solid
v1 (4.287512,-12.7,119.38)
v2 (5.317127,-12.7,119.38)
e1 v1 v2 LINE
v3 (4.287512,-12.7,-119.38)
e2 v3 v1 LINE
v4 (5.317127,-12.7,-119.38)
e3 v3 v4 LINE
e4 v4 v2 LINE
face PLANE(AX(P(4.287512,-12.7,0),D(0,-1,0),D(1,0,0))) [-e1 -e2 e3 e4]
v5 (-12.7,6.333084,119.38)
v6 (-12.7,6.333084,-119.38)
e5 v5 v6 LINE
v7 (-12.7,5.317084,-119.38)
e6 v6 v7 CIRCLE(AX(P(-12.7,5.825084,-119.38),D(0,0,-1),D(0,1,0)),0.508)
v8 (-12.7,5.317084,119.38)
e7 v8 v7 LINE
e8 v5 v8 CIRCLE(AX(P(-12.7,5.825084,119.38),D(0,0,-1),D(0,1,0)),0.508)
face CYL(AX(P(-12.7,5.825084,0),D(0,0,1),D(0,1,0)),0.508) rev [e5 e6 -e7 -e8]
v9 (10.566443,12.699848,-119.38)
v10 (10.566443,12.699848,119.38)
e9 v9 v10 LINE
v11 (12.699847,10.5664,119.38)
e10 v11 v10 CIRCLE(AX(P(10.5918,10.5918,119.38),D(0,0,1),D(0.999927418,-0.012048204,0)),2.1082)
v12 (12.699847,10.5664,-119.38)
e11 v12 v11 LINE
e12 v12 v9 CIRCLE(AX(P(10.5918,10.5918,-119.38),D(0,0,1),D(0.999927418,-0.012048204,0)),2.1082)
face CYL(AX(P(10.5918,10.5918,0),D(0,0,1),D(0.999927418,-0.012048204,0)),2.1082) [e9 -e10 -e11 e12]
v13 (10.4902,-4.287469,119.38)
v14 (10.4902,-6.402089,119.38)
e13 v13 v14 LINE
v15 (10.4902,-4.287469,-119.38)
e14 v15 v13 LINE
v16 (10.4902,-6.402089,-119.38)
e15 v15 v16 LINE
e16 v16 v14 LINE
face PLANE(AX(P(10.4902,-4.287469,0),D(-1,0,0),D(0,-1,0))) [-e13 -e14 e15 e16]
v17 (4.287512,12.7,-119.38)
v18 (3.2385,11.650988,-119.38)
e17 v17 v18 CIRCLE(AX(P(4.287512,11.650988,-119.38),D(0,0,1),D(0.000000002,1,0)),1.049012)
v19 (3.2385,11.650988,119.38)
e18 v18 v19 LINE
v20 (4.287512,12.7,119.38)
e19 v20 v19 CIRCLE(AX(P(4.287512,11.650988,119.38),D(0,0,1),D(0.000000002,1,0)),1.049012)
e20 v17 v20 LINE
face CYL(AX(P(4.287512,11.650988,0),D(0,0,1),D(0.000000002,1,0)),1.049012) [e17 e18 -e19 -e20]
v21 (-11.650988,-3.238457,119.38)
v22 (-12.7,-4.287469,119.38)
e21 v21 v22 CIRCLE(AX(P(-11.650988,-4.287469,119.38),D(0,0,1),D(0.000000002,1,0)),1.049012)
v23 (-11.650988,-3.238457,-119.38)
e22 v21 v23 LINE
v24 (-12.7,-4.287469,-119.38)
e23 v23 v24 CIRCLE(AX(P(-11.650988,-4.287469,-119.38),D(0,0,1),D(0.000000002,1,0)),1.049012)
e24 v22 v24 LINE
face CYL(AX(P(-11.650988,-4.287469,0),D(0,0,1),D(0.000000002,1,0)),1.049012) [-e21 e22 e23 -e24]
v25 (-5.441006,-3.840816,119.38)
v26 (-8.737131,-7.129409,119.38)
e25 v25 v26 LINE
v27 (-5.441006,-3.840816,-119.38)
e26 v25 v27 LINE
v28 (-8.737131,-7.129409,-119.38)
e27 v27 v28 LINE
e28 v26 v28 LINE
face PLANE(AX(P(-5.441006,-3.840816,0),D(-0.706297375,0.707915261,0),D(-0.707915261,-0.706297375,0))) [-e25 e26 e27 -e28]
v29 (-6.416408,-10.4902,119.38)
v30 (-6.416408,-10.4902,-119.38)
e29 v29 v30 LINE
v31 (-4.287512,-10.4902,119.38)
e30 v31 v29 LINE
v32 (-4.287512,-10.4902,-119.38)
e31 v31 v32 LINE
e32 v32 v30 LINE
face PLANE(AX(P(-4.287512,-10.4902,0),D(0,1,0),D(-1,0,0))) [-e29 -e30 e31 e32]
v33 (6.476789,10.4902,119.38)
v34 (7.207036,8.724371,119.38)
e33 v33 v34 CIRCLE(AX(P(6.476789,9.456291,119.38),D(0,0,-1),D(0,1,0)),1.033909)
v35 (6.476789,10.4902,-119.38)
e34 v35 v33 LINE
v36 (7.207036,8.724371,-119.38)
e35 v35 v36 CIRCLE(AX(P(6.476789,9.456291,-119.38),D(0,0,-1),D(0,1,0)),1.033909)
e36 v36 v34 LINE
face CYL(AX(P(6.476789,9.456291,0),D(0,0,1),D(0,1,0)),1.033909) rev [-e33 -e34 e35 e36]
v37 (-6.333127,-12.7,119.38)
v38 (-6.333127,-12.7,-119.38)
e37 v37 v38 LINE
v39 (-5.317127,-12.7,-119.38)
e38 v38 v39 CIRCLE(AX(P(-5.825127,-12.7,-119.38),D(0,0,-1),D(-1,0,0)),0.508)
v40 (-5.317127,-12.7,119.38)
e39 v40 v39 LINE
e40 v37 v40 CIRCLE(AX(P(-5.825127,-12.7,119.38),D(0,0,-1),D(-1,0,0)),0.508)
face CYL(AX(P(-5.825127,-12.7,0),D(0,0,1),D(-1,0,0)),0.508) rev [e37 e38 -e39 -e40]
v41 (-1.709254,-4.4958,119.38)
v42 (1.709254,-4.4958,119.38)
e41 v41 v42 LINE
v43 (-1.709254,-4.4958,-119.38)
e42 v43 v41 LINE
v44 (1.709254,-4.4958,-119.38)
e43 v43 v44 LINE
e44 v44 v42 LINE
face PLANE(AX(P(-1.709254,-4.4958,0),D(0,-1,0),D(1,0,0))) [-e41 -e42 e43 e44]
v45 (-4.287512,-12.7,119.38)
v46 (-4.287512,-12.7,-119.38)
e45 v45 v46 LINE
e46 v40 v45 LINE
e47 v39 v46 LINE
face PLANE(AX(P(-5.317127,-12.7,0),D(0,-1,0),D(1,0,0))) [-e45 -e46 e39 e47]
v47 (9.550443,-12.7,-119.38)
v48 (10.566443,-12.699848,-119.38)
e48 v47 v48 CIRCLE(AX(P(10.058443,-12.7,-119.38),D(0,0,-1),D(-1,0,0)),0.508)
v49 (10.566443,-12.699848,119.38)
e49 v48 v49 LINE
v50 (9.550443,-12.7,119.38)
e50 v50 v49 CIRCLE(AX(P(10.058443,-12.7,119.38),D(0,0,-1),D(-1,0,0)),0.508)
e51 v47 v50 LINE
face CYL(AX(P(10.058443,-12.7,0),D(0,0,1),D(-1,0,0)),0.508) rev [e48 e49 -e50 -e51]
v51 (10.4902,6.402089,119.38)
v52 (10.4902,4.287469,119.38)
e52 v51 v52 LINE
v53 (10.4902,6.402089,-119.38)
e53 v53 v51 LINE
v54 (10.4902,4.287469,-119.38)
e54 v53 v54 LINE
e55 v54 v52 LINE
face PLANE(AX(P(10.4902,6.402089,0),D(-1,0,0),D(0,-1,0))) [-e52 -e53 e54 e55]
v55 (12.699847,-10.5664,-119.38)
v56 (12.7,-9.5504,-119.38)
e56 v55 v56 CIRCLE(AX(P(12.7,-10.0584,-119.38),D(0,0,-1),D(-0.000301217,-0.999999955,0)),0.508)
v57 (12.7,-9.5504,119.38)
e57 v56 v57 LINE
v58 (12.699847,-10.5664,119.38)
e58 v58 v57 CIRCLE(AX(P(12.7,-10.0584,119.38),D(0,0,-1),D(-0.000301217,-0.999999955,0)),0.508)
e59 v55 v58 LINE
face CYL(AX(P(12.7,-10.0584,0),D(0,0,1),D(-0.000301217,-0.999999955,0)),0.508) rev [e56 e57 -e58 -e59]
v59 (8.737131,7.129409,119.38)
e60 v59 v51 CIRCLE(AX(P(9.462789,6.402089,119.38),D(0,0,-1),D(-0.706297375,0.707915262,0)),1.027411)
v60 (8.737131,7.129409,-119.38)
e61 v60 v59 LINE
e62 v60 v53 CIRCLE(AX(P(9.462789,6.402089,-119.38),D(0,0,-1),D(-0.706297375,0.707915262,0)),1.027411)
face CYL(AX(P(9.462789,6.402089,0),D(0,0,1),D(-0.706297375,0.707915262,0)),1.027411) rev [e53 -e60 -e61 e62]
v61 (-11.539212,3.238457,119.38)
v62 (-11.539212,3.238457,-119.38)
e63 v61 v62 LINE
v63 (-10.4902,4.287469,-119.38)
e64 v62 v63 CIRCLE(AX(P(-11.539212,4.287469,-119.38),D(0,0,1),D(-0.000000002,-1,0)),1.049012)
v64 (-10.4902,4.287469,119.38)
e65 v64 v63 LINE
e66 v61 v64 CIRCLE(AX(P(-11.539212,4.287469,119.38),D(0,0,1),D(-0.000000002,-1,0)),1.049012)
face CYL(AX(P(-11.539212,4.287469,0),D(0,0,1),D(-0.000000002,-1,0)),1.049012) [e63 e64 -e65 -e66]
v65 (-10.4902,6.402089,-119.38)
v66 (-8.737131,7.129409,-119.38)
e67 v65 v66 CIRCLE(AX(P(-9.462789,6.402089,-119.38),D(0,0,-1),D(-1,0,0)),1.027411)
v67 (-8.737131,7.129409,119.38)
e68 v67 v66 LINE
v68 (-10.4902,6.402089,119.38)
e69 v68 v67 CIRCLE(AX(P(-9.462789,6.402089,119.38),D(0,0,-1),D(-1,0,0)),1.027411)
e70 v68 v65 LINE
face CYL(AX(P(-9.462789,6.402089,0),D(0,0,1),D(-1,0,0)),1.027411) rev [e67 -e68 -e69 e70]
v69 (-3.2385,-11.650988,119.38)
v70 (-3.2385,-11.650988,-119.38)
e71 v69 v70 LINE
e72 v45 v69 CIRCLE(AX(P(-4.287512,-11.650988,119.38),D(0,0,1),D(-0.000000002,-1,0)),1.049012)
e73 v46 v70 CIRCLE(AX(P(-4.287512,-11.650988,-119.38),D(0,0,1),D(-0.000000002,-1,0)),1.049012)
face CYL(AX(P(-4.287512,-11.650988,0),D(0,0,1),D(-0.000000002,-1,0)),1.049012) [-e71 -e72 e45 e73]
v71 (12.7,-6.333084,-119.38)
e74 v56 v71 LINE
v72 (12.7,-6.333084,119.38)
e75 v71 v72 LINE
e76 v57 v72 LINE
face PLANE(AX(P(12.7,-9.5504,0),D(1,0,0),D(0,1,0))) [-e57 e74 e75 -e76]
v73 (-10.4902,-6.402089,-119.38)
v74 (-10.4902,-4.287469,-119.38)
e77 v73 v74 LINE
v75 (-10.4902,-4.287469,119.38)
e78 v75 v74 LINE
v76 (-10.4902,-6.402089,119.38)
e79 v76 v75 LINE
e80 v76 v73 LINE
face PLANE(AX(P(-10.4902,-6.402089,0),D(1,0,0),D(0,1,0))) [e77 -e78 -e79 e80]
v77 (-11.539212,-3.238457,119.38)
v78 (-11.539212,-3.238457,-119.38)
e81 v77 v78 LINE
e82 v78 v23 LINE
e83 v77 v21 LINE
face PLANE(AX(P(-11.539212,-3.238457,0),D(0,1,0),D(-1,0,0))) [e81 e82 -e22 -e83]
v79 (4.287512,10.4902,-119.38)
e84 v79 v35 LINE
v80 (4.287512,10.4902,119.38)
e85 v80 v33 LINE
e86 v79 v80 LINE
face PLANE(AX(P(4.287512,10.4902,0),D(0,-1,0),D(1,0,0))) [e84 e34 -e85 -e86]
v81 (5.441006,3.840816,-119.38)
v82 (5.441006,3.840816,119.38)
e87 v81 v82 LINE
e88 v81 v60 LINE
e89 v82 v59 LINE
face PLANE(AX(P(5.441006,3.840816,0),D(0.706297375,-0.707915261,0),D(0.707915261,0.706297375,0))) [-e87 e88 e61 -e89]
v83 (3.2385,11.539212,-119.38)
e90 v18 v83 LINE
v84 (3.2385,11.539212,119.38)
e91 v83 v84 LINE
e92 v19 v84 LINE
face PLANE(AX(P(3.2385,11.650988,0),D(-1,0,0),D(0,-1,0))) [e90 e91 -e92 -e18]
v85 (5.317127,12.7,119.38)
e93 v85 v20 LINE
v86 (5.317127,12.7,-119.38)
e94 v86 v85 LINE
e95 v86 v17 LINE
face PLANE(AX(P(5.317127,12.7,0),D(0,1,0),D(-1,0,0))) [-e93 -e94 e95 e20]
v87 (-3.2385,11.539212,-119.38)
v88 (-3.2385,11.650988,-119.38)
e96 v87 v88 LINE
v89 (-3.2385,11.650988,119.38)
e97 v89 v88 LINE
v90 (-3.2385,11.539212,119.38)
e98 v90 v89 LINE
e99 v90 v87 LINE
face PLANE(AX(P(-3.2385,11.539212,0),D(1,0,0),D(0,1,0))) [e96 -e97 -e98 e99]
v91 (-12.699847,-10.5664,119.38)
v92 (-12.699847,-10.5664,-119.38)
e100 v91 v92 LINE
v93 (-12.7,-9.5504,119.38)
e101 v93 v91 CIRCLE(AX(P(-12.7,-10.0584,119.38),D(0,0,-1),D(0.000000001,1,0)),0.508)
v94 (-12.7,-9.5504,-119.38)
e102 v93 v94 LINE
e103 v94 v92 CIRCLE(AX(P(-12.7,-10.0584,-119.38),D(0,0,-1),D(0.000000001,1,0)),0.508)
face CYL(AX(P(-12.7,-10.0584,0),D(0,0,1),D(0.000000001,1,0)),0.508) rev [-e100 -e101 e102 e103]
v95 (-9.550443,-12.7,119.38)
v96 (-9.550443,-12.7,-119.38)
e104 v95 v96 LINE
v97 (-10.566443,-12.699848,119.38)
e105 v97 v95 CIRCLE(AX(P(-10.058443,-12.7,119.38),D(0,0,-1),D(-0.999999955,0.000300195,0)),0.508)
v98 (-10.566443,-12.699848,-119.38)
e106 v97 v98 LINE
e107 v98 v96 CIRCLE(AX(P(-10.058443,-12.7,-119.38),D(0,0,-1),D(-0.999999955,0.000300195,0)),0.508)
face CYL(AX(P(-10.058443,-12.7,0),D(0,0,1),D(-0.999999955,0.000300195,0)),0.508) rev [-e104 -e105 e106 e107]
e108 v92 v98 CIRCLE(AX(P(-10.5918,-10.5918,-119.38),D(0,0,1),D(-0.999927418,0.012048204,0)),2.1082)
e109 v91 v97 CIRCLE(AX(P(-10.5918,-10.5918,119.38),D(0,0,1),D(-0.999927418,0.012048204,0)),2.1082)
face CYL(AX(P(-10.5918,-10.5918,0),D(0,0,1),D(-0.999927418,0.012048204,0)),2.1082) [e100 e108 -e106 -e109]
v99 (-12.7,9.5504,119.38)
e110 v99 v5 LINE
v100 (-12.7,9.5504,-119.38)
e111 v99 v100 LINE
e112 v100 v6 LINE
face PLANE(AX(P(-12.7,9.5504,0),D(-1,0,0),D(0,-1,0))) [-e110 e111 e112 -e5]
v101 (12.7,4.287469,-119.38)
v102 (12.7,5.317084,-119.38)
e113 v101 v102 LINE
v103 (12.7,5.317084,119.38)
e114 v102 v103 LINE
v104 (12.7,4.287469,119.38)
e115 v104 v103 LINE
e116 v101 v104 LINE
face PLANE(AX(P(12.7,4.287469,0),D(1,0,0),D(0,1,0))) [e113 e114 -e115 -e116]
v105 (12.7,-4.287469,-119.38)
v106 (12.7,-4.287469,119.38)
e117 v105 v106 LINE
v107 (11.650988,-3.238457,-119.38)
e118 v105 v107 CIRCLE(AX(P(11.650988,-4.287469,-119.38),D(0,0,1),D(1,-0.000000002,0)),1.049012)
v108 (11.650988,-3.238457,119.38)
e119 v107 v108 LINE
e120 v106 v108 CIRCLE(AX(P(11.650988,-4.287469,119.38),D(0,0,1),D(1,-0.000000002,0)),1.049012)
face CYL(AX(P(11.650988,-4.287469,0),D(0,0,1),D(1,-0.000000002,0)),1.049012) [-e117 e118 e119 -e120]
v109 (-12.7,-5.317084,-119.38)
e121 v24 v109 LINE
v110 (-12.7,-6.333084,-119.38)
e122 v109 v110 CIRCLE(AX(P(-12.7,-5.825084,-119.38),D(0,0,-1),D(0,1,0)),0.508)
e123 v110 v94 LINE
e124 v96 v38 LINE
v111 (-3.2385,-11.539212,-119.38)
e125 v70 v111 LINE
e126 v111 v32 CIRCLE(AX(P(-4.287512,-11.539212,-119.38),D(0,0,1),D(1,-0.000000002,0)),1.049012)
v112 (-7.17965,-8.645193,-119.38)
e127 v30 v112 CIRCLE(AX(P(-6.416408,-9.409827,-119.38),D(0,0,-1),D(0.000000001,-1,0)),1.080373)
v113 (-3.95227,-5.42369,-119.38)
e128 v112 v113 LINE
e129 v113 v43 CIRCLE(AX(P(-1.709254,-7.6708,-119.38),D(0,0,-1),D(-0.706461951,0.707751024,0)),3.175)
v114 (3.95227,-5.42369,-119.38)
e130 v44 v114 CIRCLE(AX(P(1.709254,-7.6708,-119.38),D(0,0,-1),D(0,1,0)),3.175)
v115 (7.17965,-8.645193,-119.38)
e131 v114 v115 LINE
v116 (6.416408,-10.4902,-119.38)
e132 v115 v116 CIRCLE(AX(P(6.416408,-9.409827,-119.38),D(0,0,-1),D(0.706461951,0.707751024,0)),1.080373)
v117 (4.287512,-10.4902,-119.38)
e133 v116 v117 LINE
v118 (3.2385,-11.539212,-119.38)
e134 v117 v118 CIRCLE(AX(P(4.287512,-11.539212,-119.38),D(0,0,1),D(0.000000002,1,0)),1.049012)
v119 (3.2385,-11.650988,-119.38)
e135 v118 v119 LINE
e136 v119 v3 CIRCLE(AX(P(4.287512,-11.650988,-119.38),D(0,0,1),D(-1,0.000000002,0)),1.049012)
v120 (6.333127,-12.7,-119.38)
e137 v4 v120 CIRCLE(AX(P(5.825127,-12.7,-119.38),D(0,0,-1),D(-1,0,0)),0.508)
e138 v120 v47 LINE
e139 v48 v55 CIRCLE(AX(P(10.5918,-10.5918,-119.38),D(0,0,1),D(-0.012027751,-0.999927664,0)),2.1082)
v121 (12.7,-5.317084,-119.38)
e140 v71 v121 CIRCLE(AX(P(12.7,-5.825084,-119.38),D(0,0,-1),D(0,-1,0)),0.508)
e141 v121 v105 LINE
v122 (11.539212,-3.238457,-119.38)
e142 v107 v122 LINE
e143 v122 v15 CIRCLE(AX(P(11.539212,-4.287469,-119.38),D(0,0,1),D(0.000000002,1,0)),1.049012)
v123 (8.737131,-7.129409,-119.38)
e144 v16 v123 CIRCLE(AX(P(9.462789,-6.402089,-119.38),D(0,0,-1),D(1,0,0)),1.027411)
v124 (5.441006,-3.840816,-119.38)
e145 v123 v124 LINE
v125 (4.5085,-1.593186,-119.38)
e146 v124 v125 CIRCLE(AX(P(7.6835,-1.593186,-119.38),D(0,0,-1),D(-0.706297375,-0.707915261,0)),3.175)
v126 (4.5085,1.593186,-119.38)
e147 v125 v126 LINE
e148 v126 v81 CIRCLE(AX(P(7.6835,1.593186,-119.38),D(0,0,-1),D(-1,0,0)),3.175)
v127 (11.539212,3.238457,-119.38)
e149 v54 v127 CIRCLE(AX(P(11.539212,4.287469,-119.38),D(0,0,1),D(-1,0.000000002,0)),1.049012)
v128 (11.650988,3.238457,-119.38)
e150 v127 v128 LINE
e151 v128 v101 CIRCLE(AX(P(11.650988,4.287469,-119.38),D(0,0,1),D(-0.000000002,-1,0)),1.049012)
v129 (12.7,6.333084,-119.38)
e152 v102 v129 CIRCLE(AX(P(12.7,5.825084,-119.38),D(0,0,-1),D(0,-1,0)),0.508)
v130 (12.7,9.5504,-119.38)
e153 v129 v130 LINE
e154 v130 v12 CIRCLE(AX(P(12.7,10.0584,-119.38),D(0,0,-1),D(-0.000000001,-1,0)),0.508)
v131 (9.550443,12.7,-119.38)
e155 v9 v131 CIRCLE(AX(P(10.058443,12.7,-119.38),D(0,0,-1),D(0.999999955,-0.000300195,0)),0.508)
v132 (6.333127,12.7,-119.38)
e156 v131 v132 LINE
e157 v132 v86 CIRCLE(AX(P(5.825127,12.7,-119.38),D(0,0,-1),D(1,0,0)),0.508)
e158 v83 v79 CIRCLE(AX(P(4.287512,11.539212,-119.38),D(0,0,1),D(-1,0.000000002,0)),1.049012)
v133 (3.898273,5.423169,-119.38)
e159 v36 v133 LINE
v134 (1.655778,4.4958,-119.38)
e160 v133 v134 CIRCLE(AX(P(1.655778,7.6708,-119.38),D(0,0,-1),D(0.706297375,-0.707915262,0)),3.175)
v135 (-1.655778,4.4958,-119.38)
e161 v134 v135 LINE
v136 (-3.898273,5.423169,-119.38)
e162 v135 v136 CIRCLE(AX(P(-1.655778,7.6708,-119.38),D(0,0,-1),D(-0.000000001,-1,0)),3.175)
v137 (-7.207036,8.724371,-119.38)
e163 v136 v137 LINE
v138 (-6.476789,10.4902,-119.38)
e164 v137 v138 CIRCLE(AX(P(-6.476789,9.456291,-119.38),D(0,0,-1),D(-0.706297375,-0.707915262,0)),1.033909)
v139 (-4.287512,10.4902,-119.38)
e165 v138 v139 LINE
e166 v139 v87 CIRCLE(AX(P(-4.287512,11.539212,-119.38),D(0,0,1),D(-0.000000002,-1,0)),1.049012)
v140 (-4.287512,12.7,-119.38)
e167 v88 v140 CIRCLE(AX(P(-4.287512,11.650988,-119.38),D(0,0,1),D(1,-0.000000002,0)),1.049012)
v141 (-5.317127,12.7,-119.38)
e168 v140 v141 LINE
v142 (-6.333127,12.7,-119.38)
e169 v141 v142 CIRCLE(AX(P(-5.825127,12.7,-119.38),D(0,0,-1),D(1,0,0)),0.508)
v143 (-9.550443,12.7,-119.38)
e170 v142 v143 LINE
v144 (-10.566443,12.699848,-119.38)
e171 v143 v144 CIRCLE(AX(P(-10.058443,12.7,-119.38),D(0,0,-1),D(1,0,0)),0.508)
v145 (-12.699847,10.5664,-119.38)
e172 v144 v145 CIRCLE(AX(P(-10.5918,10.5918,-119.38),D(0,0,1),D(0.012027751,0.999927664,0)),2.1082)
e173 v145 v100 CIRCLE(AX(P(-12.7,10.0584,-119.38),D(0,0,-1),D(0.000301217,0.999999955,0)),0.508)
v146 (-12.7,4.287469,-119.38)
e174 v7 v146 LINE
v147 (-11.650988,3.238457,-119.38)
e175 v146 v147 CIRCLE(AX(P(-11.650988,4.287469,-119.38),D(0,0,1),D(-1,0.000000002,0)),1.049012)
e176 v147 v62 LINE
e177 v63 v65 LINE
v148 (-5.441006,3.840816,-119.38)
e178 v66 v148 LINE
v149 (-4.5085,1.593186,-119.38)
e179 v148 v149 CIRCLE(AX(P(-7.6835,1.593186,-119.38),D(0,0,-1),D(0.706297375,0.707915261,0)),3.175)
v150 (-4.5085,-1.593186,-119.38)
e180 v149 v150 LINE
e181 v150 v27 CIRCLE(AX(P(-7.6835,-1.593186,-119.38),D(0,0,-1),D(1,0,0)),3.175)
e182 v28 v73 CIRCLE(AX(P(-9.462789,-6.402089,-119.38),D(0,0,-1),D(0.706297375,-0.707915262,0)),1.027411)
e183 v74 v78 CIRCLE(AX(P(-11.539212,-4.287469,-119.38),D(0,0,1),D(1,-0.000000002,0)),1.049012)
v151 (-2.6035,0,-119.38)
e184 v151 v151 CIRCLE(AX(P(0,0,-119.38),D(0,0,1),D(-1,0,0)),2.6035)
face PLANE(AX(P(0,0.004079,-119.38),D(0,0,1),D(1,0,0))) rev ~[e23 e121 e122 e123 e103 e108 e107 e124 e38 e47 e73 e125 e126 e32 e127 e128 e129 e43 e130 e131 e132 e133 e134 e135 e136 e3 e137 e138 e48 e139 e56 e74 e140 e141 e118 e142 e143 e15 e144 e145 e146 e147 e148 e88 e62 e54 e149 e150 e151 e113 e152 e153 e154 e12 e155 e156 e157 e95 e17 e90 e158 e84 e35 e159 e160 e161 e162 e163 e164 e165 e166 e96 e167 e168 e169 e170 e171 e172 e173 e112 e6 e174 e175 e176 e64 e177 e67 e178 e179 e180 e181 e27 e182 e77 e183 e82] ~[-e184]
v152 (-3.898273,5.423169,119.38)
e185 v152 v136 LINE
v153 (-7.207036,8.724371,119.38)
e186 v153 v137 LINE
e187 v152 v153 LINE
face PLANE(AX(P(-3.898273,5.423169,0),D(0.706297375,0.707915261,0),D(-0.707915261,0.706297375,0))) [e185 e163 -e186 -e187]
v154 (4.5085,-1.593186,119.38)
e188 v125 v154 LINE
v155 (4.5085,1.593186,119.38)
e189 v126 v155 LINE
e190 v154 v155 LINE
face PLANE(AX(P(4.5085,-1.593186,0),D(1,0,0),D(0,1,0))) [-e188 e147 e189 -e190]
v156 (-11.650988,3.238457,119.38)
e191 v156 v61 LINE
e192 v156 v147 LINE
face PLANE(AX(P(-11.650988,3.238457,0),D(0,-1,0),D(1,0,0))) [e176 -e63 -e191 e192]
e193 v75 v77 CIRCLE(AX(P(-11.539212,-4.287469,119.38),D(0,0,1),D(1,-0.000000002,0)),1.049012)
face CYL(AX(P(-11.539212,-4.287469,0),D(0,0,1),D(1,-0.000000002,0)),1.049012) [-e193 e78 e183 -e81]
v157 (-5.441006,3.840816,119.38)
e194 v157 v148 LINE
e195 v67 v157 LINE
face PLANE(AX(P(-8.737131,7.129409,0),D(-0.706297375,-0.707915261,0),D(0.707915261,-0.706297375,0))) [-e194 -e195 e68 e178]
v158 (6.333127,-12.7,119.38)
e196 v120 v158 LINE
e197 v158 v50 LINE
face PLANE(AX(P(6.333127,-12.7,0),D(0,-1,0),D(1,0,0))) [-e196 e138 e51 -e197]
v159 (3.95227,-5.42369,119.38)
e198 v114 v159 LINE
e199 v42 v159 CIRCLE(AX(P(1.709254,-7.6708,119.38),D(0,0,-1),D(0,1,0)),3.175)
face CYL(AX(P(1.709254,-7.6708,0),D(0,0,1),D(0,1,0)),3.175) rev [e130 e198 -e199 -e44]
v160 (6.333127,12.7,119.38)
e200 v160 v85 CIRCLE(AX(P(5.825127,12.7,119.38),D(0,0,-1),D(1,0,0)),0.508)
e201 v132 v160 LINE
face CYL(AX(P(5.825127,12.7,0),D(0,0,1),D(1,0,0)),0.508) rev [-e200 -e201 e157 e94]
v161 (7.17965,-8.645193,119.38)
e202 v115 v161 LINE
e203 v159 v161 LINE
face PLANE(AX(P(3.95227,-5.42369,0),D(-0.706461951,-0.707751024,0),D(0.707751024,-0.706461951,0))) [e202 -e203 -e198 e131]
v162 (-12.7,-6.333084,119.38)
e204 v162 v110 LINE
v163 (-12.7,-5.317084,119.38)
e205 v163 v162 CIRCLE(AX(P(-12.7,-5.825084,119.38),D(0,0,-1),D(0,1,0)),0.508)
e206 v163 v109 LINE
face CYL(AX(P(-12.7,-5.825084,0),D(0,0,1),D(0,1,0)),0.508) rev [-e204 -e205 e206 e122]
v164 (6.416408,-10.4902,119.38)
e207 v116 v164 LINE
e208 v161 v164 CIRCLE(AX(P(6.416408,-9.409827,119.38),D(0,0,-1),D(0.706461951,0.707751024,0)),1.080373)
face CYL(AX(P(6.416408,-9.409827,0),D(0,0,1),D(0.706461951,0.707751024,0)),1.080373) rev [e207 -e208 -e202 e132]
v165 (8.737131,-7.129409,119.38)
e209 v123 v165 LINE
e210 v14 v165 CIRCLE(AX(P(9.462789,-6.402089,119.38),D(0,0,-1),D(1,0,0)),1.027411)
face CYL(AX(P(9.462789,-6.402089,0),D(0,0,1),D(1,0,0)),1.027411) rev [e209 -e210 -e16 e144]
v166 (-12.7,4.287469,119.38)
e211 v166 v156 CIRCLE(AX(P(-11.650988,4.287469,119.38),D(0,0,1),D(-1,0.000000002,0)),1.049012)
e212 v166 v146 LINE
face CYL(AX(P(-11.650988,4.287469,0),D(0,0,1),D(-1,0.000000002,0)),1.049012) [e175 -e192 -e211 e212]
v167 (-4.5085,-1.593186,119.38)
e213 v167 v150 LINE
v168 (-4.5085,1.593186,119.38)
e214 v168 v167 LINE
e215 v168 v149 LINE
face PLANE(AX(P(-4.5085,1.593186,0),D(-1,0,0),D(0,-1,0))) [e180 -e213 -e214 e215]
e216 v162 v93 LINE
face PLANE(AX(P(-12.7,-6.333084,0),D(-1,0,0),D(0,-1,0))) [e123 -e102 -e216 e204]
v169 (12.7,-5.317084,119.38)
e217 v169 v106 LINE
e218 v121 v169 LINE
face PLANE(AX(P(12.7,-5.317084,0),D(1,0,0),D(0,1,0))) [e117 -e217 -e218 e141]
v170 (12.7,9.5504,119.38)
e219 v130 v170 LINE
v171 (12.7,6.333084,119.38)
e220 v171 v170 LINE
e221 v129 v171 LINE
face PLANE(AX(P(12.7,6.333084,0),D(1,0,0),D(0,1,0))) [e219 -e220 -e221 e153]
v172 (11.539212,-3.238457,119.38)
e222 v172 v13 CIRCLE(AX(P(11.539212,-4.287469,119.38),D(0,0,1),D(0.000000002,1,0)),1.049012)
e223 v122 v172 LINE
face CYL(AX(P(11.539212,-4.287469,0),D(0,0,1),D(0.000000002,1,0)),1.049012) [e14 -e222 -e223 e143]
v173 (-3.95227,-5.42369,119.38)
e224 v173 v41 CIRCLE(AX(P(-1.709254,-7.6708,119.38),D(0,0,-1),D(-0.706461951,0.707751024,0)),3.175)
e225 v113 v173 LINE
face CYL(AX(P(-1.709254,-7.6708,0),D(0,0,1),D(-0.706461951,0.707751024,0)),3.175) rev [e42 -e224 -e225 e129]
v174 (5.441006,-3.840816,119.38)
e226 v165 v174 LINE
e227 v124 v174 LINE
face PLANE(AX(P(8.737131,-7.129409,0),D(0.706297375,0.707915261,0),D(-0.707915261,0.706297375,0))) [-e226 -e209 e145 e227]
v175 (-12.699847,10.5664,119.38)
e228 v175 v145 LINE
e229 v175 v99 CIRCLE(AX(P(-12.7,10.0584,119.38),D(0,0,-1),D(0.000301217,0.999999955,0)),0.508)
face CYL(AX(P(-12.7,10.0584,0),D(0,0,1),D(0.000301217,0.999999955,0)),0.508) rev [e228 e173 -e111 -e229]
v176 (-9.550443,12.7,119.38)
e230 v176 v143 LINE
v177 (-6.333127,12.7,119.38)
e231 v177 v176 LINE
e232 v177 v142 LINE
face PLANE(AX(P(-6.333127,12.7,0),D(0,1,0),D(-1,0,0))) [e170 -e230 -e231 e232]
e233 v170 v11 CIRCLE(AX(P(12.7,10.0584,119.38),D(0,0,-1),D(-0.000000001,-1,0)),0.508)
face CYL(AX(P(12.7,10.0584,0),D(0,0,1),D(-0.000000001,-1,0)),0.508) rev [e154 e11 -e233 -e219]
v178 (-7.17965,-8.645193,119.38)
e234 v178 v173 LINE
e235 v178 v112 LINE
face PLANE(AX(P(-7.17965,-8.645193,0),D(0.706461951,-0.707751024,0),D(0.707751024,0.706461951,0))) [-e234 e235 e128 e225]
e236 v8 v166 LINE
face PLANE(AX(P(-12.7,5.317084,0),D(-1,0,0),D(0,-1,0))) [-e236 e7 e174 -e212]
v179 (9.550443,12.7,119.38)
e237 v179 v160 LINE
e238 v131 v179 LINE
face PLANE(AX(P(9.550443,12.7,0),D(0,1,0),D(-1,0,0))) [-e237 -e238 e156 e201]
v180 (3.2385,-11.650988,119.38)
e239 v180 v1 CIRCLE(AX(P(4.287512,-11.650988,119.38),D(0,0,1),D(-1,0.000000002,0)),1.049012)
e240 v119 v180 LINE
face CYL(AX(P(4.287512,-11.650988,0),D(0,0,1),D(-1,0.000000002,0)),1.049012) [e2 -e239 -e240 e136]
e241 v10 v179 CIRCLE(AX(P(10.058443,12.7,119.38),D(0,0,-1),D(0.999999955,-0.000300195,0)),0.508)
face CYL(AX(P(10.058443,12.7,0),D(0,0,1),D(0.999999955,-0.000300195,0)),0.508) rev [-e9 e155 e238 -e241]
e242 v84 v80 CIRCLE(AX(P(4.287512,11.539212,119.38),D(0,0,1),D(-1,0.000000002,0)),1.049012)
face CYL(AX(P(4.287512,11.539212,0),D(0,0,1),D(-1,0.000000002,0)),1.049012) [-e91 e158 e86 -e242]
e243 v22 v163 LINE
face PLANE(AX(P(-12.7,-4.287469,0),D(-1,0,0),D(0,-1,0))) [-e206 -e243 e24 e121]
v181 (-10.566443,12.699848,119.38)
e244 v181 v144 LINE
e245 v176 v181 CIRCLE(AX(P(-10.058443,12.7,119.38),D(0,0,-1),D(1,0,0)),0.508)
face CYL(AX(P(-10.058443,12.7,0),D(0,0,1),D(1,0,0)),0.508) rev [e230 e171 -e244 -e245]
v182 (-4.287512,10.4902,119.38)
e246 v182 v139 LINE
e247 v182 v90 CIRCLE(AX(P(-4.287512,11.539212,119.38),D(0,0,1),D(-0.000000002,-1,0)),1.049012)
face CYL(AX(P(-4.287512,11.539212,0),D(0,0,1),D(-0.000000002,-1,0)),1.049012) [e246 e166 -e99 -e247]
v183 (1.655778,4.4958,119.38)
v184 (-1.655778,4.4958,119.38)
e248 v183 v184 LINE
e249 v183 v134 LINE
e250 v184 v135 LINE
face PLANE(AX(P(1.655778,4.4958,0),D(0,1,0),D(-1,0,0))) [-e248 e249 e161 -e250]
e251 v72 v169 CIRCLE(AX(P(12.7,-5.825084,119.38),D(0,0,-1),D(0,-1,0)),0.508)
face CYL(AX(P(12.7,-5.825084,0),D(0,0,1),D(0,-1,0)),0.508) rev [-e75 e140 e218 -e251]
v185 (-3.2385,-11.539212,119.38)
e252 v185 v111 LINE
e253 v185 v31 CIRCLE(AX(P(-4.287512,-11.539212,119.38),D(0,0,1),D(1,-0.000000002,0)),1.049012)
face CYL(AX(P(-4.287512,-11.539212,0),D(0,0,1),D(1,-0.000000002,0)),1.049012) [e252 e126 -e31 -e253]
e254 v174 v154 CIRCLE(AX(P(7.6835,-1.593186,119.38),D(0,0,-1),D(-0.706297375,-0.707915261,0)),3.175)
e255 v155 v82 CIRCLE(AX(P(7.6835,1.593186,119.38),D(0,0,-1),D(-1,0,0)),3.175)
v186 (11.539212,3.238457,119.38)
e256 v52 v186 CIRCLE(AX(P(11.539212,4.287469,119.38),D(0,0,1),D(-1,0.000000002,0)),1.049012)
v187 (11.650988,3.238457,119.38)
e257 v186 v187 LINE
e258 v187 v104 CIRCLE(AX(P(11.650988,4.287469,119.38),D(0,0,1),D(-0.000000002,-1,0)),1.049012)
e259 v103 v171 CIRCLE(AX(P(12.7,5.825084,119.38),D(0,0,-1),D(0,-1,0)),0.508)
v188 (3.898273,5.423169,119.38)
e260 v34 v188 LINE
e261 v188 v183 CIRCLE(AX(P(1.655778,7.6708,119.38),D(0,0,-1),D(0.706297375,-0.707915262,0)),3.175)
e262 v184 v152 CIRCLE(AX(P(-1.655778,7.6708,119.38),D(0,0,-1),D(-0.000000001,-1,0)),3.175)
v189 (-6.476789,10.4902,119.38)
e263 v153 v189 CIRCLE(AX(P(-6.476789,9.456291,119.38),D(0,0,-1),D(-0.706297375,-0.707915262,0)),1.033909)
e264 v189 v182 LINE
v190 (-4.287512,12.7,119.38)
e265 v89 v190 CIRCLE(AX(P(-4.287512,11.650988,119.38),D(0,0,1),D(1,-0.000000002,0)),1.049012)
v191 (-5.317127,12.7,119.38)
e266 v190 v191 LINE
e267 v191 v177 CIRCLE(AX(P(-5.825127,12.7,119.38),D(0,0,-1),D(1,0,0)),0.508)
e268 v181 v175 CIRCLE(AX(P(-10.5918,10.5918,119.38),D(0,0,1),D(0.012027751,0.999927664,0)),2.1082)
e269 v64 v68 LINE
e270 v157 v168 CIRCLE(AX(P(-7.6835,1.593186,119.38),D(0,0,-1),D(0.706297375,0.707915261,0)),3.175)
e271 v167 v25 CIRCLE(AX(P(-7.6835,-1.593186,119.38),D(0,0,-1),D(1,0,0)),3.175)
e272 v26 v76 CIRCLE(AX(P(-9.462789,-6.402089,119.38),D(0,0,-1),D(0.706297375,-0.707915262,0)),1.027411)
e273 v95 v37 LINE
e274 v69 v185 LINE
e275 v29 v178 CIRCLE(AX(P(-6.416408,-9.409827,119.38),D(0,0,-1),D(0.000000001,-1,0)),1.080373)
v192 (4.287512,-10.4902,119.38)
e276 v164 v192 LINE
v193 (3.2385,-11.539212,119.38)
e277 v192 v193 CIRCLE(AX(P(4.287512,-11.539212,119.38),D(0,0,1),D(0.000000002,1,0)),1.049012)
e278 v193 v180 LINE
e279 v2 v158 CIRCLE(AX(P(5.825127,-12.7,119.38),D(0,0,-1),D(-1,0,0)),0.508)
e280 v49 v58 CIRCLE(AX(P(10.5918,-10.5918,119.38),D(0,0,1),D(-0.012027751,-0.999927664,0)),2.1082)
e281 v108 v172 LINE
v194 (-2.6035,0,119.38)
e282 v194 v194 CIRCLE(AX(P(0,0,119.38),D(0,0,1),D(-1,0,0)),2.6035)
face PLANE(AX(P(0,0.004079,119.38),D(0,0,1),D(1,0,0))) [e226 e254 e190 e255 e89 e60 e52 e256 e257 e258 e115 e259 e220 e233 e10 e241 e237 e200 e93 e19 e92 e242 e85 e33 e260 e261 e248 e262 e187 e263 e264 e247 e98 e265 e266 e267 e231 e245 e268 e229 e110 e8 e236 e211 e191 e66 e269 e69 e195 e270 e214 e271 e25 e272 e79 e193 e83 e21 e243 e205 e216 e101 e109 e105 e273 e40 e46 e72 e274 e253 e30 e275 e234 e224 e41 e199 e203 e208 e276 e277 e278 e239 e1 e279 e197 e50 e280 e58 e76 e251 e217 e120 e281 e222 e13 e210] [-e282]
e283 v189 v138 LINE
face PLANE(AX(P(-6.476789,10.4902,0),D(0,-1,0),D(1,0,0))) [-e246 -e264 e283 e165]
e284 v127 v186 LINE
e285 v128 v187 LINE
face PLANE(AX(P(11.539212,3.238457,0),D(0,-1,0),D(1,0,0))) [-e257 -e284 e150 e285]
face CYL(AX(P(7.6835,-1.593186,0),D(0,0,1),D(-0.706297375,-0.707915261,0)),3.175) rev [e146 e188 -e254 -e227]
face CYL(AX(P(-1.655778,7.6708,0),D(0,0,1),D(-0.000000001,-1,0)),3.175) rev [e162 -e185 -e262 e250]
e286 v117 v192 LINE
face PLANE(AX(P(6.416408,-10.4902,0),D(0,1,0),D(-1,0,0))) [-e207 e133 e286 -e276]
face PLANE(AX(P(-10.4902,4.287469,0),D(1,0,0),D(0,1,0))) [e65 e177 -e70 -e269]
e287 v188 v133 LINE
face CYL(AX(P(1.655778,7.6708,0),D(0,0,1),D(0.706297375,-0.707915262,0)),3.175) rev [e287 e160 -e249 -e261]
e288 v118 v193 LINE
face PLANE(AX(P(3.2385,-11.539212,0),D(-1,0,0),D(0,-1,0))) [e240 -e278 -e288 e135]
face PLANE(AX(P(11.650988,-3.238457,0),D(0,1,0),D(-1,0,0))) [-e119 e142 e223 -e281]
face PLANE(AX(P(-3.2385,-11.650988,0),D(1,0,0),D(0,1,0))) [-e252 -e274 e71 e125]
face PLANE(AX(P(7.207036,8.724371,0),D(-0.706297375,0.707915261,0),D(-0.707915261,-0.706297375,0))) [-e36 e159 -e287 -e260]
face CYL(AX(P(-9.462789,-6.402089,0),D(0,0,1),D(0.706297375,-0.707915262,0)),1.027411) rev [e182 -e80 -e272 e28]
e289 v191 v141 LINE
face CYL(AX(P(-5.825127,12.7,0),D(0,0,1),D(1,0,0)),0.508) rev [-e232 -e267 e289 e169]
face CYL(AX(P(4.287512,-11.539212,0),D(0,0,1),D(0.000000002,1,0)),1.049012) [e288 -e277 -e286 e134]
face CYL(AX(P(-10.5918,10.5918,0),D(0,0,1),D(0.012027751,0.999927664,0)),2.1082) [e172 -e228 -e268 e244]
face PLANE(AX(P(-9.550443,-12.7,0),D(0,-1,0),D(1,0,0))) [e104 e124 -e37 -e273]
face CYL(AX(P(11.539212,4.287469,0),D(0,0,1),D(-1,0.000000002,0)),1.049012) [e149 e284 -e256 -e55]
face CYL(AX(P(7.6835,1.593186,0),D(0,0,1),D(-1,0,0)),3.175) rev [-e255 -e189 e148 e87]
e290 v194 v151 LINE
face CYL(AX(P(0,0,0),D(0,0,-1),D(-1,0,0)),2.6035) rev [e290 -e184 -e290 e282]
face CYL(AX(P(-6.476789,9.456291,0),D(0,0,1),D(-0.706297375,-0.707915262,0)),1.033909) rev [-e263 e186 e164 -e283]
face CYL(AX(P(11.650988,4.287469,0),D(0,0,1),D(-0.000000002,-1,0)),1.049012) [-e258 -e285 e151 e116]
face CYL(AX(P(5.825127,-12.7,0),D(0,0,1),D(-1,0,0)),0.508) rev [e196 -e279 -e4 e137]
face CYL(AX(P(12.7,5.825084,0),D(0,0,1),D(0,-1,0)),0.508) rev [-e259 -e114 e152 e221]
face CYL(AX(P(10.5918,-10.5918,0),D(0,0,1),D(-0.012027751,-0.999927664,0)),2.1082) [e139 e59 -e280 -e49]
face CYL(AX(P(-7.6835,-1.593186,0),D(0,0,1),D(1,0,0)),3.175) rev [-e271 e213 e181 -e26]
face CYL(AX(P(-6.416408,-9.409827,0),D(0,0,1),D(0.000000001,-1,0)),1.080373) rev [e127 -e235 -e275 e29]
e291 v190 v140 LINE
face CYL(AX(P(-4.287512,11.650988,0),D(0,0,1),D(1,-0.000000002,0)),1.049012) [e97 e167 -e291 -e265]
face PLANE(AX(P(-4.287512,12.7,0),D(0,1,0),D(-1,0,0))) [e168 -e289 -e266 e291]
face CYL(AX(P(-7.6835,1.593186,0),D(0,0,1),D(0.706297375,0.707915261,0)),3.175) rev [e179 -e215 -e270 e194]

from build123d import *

# Parameters (mm, degrees)
SKETCH1_R           = 2.6035
BOSS_EXTRUDE1_DEPTH = 119.38


with BuildPart() as part:
    # Sketch1 → Boss-Extrude1 (new, symmetric)
    with BuildSketch(Plane.XY):
        with BuildLine():
            Line((-7.179650497, -8.645192506), (-3.952270251, -5.423690499))
            ThreePointArc((-3.952270251, -5.423690499), (-2.922936451, -4.736929036), (-1.709253557, -4.4958))
            Line((-1.709253557, -4.4958), (1.709253557, -4.4958))
            ThreePointArc((1.709253557, -4.4958), (2.922936451, -4.736929036), (3.952270251, -5.423690499))
            Line((3.952270251, -5.423690499), (7.179650497, -8.645192506))
            ThreePointArc((7.179650497, -8.645192506), (7.41473083, -9.822813117), (6.416408329, -10.4902))
            Line((6.416408329, -10.4902), (4.287512407, -10.4902))
            ThreePointArc((4.287512407, -10.4902), (3.54574862, -10.79744862), (3.2385, -11.539212407))
            Line((3.2385, -11.539212407), (3.2385, -11.650987593))
            ThreePointArc((3.2385, -11.650987593), (3.54574862, -12.39275138), (4.287512407, -12.7))
            Line((4.287512407, -12.7), (5.317126718, -12.7))
            ThreePointArc((5.317126718, -12.7), (5.825126718, -12.192), (6.333126718, -12.7))
            Line((6.333126718, -12.7), (9.550443118, -12.7))
            ThreePointArc((9.550443118, -12.7), (10.058366869, -12.192000006), (10.566443095, -12.699847501))
            ThreePointArc((10.566443095, -12.699847501), (12.082537762, -12.08250727), (12.699846982, -10.566399977))
            ThreePointArc((12.699846982, -10.566399977), (12.192000006, -10.058323491), (12.7, -9.5504))
            Line((12.7, -9.5504), (12.7, -6.3330836))
            ThreePointArc((12.7, -6.3330836), (12.192, -5.8250836), (12.7, -5.3170836))
            Line((12.7, -5.3170836), (12.7, -4.287469289))
            ThreePointArc((12.7, -4.287469289), (12.39275138, -3.545705502), (11.650987593, -3.238456882))
            Line((11.650987593, -3.238456882), (11.539212407, -3.238456882))
            ThreePointArc((11.539212407, -3.238456882), (10.79744862, -3.545705502), (10.4902, -4.287469289))
            Line((10.4902, -4.287469289), (10.4902, -6.402089023))
            ThreePointArc((10.4902, -6.402089023), (9.856505071, -7.351067942), (8.737131347, -7.129408934))
            Line((8.737131347, -7.129408934), (5.441005833, -3.840816462))
            ThreePointArc((5.441005833, -3.840816462), (4.750877967, -2.809883091), (4.5085, -1.593185507))
            Line((4.5085, -1.593185507), (4.5085, 1.593185507))
            ThreePointArc((4.5085, 1.593185507), (4.750877967, 2.809883091), (5.441005833, 3.840816462))
            Line((5.441005833, 3.840816462), (8.737131347, 7.129408934))
            ThreePointArc((8.737131347, 7.129408934), (9.856505071, 7.351067942), (10.4902, 6.402089023))
            Line((10.4902, 6.402089023), (10.4902, 4.287469289))
            ThreePointArc((10.4902, 4.287469289), (10.79744862, 3.545705502), (11.539212407, 3.238456882))
            Line((11.539212407, 3.238456882), (11.650987593, 3.238456882))
            ThreePointArc((11.650987593, 3.238456882), (12.39275138, 3.545705502), (12.7, 4.287469289))
            Line((12.7, 4.287469289), (12.7, 5.3170836))
            ThreePointArc((12.7, 5.3170836), (12.192, 5.8250836), (12.7, 6.3330836))
            Line((12.7, 6.3330836), (12.7, 9.5504))
            ThreePointArc((12.7, 9.5504), (12.192000006, 10.058323491), (12.699846982, 10.566399977))
            ThreePointArc((12.699846982, 10.566399977), (12.082537762, 12.08250727), (10.566443095, 12.699847501))
            ThreePointArc((10.566443095, 12.699847501), (10.058366869, 12.192000006), (9.550443118, 12.7))
            Line((9.550443118, 12.7), (6.333126718, 12.7))
            ThreePointArc((6.333126718, 12.7), (5.825126718, 12.192), (5.317126718, 12.7))
            Line((5.317126718, 12.7), (4.287512407, 12.7))
            ThreePointArc((4.287512407, 12.7), (3.54574862, 12.39275138), (3.2385, 11.650987593))
            Line((3.2385, 11.650987593), (3.2385, 11.539212407))
            ThreePointArc((3.2385, 11.539212407), (3.54574862, 10.79744862), (4.287512407, 10.4902))
            Line((4.287512407, 10.4902), (6.476788598, 10.4902))
            ThreePointArc((6.476788598, 10.4902), (7.432222385, 9.85140422), (7.207036008, 8.724370562))
            Line((7.207036008, 8.724370562), (3.898272566, 5.423169045))
            ThreePointArc((3.898272566, 5.423169045), (2.869120213, 4.736787962), (1.655778399, 4.4958))
            Line((1.655778399, 4.4958), (-1.655778399, 4.4958))
            ThreePointArc((-1.655778399, 4.4958), (-2.869120213, 4.736787962), (-3.898272566, 5.423169045))
            Line((-3.898272566, 5.423169045), (-7.207036008, 8.724370562))
            ThreePointArc((-7.207036008, 8.724370562), (-7.432222385, 9.85140422), (-6.476788598, 10.4902))
            Line((-6.476788598, 10.4902), (-4.287512407, 10.4902))
            ThreePointArc((-4.287512407, 10.4902), (-3.54574862, 10.79744862), (-3.2385, 11.539212407))
            Line((-3.2385, 11.539212407), (-3.2385, 11.650987593))
            ThreePointArc((-3.2385, 11.650987593), (-3.54574862, 12.39275138), (-4.287512407, 12.7))
            Line((-4.287512407, 12.7), (-5.317126718, 12.7))
            ThreePointArc((-5.317126718, 12.7), (-5.825126718, 12.192), (-6.333126718, 12.7))
            Line((-6.333126718, 12.7), (-9.550443118, 12.7))
            ThreePointArc((-9.550443118, 12.7), (-10.058366869, 12.192000006), (-10.566443095, 12.699847501))
            ThreePointArc((-10.566443095, 12.699847501), (-12.082537762, 12.08250727), (-12.699846982, 10.566399977))
            ThreePointArc((-12.699846982, 10.566399977), (-12.192000006, 10.058323491), (-12.7, 9.5504))
            Line((-12.7, 9.5504), (-12.7, 6.3330836))
            ThreePointArc((-12.7, 6.3330836), (-12.192, 5.8250836), (-12.7, 5.3170836))
            Line((-12.7, 5.3170836), (-12.7, 4.287469289))
            ThreePointArc((-12.7, 4.287469289), (-12.39275138, 3.545705502), (-11.650987593, 3.238456882))
            Line((-11.650987593, 3.238456882), (-11.539212407, 3.238456882))
            ThreePointArc((-11.539212407, 3.238456882), (-10.79744862, 3.545705502), (-10.4902, 4.287469289))
            Line((-10.4902, 4.287469289), (-10.4902, 6.402089023))
            ThreePointArc((-10.4902, 6.402089023), (-9.856505071, 7.351067942), (-8.737131347, 7.129408934))
            Line((-8.737131347, 7.129408934), (-5.441005833, 3.840816462))
            ThreePointArc((-5.441005833, 3.840816462), (-4.750877967, 2.809883091), (-4.5085, 1.593185507))
            Line((-4.5085, 1.593185507), (-4.5085, -1.593185507))
            ThreePointArc((-4.5085, -1.593185507), (-4.750877967, -2.809883091), (-5.441005833, -3.840816462))
            Line((-5.441005833, -3.840816462), (-8.737131347, -7.129408934))
            ThreePointArc((-8.737131347, -7.129408934), (-9.856505071, -7.351067942), (-10.4902, -6.402089023))
            Line((-10.4902, -6.402089023), (-10.4902, -4.287469289))
            ThreePointArc((-10.4902, -4.287469289), (-10.79744862, -3.545705502), (-11.539212407, -3.238456882))
            Line((-11.539212407, -3.238456882), (-11.650987593, -3.238456882))
            ThreePointArc((-11.650987593, -3.238456882), (-12.39275138, -3.545705502), (-12.7, -4.287469289))
            Line((-12.7, -4.287469289), (-12.7, -5.3170836))
            ThreePointArc((-12.7, -5.3170836), (-12.192, -5.8250836), (-12.7, -6.3330836))
            Line((-12.7, -6.3330836), (-12.7, -9.5504))
            ThreePointArc((-12.7, -9.5504), (-12.192000006, -10.058323491), (-12.699846982, -10.566399977))
            ThreePointArc((-12.699846982, -10.566399977), (-12.082537762, -12.08250727), (-10.566443095, -12.699847501))
            ThreePointArc((-10.566443095, -12.699847501), (-10.058366869, -12.192000006), (-9.550443118, -12.7))
            Line((-9.550443118, -12.7), (-6.333126718, -12.7))
            ThreePointArc((-6.333126718, -12.7), (-5.825126718, -12.192), (-5.317126718, -12.7))
            Line((-5.317126718, -12.7), (-4.287512407, -12.7))
            ThreePointArc((-4.287512407, -12.7), (-3.54574862, -12.39275138), (-3.2385, -11.650987593))
            Line((-3.2385, -11.650987593), (-3.2385, -11.539212407))
            ThreePointArc((-3.2385, -11.539212407), (-3.54574862, -10.79744862), (-4.287512407, -10.4902))
            Line((-4.287512407, -10.4902), (-6.416408329, -10.4902))
            ThreePointArc((-6.416408329, -10.4902), (-7.41473083, -9.822813117), (-7.179650497, -8.645192506))
        make_face()
        with Locations(Location((0, 0, 0), (0, 0, 180))):
            Circle(SKETCH1_R, mode=Mode.SUBTRACT)
    extrude(amount=BOSS_EXTRUDE1_DEPTH, both=True)


solid = part.part
